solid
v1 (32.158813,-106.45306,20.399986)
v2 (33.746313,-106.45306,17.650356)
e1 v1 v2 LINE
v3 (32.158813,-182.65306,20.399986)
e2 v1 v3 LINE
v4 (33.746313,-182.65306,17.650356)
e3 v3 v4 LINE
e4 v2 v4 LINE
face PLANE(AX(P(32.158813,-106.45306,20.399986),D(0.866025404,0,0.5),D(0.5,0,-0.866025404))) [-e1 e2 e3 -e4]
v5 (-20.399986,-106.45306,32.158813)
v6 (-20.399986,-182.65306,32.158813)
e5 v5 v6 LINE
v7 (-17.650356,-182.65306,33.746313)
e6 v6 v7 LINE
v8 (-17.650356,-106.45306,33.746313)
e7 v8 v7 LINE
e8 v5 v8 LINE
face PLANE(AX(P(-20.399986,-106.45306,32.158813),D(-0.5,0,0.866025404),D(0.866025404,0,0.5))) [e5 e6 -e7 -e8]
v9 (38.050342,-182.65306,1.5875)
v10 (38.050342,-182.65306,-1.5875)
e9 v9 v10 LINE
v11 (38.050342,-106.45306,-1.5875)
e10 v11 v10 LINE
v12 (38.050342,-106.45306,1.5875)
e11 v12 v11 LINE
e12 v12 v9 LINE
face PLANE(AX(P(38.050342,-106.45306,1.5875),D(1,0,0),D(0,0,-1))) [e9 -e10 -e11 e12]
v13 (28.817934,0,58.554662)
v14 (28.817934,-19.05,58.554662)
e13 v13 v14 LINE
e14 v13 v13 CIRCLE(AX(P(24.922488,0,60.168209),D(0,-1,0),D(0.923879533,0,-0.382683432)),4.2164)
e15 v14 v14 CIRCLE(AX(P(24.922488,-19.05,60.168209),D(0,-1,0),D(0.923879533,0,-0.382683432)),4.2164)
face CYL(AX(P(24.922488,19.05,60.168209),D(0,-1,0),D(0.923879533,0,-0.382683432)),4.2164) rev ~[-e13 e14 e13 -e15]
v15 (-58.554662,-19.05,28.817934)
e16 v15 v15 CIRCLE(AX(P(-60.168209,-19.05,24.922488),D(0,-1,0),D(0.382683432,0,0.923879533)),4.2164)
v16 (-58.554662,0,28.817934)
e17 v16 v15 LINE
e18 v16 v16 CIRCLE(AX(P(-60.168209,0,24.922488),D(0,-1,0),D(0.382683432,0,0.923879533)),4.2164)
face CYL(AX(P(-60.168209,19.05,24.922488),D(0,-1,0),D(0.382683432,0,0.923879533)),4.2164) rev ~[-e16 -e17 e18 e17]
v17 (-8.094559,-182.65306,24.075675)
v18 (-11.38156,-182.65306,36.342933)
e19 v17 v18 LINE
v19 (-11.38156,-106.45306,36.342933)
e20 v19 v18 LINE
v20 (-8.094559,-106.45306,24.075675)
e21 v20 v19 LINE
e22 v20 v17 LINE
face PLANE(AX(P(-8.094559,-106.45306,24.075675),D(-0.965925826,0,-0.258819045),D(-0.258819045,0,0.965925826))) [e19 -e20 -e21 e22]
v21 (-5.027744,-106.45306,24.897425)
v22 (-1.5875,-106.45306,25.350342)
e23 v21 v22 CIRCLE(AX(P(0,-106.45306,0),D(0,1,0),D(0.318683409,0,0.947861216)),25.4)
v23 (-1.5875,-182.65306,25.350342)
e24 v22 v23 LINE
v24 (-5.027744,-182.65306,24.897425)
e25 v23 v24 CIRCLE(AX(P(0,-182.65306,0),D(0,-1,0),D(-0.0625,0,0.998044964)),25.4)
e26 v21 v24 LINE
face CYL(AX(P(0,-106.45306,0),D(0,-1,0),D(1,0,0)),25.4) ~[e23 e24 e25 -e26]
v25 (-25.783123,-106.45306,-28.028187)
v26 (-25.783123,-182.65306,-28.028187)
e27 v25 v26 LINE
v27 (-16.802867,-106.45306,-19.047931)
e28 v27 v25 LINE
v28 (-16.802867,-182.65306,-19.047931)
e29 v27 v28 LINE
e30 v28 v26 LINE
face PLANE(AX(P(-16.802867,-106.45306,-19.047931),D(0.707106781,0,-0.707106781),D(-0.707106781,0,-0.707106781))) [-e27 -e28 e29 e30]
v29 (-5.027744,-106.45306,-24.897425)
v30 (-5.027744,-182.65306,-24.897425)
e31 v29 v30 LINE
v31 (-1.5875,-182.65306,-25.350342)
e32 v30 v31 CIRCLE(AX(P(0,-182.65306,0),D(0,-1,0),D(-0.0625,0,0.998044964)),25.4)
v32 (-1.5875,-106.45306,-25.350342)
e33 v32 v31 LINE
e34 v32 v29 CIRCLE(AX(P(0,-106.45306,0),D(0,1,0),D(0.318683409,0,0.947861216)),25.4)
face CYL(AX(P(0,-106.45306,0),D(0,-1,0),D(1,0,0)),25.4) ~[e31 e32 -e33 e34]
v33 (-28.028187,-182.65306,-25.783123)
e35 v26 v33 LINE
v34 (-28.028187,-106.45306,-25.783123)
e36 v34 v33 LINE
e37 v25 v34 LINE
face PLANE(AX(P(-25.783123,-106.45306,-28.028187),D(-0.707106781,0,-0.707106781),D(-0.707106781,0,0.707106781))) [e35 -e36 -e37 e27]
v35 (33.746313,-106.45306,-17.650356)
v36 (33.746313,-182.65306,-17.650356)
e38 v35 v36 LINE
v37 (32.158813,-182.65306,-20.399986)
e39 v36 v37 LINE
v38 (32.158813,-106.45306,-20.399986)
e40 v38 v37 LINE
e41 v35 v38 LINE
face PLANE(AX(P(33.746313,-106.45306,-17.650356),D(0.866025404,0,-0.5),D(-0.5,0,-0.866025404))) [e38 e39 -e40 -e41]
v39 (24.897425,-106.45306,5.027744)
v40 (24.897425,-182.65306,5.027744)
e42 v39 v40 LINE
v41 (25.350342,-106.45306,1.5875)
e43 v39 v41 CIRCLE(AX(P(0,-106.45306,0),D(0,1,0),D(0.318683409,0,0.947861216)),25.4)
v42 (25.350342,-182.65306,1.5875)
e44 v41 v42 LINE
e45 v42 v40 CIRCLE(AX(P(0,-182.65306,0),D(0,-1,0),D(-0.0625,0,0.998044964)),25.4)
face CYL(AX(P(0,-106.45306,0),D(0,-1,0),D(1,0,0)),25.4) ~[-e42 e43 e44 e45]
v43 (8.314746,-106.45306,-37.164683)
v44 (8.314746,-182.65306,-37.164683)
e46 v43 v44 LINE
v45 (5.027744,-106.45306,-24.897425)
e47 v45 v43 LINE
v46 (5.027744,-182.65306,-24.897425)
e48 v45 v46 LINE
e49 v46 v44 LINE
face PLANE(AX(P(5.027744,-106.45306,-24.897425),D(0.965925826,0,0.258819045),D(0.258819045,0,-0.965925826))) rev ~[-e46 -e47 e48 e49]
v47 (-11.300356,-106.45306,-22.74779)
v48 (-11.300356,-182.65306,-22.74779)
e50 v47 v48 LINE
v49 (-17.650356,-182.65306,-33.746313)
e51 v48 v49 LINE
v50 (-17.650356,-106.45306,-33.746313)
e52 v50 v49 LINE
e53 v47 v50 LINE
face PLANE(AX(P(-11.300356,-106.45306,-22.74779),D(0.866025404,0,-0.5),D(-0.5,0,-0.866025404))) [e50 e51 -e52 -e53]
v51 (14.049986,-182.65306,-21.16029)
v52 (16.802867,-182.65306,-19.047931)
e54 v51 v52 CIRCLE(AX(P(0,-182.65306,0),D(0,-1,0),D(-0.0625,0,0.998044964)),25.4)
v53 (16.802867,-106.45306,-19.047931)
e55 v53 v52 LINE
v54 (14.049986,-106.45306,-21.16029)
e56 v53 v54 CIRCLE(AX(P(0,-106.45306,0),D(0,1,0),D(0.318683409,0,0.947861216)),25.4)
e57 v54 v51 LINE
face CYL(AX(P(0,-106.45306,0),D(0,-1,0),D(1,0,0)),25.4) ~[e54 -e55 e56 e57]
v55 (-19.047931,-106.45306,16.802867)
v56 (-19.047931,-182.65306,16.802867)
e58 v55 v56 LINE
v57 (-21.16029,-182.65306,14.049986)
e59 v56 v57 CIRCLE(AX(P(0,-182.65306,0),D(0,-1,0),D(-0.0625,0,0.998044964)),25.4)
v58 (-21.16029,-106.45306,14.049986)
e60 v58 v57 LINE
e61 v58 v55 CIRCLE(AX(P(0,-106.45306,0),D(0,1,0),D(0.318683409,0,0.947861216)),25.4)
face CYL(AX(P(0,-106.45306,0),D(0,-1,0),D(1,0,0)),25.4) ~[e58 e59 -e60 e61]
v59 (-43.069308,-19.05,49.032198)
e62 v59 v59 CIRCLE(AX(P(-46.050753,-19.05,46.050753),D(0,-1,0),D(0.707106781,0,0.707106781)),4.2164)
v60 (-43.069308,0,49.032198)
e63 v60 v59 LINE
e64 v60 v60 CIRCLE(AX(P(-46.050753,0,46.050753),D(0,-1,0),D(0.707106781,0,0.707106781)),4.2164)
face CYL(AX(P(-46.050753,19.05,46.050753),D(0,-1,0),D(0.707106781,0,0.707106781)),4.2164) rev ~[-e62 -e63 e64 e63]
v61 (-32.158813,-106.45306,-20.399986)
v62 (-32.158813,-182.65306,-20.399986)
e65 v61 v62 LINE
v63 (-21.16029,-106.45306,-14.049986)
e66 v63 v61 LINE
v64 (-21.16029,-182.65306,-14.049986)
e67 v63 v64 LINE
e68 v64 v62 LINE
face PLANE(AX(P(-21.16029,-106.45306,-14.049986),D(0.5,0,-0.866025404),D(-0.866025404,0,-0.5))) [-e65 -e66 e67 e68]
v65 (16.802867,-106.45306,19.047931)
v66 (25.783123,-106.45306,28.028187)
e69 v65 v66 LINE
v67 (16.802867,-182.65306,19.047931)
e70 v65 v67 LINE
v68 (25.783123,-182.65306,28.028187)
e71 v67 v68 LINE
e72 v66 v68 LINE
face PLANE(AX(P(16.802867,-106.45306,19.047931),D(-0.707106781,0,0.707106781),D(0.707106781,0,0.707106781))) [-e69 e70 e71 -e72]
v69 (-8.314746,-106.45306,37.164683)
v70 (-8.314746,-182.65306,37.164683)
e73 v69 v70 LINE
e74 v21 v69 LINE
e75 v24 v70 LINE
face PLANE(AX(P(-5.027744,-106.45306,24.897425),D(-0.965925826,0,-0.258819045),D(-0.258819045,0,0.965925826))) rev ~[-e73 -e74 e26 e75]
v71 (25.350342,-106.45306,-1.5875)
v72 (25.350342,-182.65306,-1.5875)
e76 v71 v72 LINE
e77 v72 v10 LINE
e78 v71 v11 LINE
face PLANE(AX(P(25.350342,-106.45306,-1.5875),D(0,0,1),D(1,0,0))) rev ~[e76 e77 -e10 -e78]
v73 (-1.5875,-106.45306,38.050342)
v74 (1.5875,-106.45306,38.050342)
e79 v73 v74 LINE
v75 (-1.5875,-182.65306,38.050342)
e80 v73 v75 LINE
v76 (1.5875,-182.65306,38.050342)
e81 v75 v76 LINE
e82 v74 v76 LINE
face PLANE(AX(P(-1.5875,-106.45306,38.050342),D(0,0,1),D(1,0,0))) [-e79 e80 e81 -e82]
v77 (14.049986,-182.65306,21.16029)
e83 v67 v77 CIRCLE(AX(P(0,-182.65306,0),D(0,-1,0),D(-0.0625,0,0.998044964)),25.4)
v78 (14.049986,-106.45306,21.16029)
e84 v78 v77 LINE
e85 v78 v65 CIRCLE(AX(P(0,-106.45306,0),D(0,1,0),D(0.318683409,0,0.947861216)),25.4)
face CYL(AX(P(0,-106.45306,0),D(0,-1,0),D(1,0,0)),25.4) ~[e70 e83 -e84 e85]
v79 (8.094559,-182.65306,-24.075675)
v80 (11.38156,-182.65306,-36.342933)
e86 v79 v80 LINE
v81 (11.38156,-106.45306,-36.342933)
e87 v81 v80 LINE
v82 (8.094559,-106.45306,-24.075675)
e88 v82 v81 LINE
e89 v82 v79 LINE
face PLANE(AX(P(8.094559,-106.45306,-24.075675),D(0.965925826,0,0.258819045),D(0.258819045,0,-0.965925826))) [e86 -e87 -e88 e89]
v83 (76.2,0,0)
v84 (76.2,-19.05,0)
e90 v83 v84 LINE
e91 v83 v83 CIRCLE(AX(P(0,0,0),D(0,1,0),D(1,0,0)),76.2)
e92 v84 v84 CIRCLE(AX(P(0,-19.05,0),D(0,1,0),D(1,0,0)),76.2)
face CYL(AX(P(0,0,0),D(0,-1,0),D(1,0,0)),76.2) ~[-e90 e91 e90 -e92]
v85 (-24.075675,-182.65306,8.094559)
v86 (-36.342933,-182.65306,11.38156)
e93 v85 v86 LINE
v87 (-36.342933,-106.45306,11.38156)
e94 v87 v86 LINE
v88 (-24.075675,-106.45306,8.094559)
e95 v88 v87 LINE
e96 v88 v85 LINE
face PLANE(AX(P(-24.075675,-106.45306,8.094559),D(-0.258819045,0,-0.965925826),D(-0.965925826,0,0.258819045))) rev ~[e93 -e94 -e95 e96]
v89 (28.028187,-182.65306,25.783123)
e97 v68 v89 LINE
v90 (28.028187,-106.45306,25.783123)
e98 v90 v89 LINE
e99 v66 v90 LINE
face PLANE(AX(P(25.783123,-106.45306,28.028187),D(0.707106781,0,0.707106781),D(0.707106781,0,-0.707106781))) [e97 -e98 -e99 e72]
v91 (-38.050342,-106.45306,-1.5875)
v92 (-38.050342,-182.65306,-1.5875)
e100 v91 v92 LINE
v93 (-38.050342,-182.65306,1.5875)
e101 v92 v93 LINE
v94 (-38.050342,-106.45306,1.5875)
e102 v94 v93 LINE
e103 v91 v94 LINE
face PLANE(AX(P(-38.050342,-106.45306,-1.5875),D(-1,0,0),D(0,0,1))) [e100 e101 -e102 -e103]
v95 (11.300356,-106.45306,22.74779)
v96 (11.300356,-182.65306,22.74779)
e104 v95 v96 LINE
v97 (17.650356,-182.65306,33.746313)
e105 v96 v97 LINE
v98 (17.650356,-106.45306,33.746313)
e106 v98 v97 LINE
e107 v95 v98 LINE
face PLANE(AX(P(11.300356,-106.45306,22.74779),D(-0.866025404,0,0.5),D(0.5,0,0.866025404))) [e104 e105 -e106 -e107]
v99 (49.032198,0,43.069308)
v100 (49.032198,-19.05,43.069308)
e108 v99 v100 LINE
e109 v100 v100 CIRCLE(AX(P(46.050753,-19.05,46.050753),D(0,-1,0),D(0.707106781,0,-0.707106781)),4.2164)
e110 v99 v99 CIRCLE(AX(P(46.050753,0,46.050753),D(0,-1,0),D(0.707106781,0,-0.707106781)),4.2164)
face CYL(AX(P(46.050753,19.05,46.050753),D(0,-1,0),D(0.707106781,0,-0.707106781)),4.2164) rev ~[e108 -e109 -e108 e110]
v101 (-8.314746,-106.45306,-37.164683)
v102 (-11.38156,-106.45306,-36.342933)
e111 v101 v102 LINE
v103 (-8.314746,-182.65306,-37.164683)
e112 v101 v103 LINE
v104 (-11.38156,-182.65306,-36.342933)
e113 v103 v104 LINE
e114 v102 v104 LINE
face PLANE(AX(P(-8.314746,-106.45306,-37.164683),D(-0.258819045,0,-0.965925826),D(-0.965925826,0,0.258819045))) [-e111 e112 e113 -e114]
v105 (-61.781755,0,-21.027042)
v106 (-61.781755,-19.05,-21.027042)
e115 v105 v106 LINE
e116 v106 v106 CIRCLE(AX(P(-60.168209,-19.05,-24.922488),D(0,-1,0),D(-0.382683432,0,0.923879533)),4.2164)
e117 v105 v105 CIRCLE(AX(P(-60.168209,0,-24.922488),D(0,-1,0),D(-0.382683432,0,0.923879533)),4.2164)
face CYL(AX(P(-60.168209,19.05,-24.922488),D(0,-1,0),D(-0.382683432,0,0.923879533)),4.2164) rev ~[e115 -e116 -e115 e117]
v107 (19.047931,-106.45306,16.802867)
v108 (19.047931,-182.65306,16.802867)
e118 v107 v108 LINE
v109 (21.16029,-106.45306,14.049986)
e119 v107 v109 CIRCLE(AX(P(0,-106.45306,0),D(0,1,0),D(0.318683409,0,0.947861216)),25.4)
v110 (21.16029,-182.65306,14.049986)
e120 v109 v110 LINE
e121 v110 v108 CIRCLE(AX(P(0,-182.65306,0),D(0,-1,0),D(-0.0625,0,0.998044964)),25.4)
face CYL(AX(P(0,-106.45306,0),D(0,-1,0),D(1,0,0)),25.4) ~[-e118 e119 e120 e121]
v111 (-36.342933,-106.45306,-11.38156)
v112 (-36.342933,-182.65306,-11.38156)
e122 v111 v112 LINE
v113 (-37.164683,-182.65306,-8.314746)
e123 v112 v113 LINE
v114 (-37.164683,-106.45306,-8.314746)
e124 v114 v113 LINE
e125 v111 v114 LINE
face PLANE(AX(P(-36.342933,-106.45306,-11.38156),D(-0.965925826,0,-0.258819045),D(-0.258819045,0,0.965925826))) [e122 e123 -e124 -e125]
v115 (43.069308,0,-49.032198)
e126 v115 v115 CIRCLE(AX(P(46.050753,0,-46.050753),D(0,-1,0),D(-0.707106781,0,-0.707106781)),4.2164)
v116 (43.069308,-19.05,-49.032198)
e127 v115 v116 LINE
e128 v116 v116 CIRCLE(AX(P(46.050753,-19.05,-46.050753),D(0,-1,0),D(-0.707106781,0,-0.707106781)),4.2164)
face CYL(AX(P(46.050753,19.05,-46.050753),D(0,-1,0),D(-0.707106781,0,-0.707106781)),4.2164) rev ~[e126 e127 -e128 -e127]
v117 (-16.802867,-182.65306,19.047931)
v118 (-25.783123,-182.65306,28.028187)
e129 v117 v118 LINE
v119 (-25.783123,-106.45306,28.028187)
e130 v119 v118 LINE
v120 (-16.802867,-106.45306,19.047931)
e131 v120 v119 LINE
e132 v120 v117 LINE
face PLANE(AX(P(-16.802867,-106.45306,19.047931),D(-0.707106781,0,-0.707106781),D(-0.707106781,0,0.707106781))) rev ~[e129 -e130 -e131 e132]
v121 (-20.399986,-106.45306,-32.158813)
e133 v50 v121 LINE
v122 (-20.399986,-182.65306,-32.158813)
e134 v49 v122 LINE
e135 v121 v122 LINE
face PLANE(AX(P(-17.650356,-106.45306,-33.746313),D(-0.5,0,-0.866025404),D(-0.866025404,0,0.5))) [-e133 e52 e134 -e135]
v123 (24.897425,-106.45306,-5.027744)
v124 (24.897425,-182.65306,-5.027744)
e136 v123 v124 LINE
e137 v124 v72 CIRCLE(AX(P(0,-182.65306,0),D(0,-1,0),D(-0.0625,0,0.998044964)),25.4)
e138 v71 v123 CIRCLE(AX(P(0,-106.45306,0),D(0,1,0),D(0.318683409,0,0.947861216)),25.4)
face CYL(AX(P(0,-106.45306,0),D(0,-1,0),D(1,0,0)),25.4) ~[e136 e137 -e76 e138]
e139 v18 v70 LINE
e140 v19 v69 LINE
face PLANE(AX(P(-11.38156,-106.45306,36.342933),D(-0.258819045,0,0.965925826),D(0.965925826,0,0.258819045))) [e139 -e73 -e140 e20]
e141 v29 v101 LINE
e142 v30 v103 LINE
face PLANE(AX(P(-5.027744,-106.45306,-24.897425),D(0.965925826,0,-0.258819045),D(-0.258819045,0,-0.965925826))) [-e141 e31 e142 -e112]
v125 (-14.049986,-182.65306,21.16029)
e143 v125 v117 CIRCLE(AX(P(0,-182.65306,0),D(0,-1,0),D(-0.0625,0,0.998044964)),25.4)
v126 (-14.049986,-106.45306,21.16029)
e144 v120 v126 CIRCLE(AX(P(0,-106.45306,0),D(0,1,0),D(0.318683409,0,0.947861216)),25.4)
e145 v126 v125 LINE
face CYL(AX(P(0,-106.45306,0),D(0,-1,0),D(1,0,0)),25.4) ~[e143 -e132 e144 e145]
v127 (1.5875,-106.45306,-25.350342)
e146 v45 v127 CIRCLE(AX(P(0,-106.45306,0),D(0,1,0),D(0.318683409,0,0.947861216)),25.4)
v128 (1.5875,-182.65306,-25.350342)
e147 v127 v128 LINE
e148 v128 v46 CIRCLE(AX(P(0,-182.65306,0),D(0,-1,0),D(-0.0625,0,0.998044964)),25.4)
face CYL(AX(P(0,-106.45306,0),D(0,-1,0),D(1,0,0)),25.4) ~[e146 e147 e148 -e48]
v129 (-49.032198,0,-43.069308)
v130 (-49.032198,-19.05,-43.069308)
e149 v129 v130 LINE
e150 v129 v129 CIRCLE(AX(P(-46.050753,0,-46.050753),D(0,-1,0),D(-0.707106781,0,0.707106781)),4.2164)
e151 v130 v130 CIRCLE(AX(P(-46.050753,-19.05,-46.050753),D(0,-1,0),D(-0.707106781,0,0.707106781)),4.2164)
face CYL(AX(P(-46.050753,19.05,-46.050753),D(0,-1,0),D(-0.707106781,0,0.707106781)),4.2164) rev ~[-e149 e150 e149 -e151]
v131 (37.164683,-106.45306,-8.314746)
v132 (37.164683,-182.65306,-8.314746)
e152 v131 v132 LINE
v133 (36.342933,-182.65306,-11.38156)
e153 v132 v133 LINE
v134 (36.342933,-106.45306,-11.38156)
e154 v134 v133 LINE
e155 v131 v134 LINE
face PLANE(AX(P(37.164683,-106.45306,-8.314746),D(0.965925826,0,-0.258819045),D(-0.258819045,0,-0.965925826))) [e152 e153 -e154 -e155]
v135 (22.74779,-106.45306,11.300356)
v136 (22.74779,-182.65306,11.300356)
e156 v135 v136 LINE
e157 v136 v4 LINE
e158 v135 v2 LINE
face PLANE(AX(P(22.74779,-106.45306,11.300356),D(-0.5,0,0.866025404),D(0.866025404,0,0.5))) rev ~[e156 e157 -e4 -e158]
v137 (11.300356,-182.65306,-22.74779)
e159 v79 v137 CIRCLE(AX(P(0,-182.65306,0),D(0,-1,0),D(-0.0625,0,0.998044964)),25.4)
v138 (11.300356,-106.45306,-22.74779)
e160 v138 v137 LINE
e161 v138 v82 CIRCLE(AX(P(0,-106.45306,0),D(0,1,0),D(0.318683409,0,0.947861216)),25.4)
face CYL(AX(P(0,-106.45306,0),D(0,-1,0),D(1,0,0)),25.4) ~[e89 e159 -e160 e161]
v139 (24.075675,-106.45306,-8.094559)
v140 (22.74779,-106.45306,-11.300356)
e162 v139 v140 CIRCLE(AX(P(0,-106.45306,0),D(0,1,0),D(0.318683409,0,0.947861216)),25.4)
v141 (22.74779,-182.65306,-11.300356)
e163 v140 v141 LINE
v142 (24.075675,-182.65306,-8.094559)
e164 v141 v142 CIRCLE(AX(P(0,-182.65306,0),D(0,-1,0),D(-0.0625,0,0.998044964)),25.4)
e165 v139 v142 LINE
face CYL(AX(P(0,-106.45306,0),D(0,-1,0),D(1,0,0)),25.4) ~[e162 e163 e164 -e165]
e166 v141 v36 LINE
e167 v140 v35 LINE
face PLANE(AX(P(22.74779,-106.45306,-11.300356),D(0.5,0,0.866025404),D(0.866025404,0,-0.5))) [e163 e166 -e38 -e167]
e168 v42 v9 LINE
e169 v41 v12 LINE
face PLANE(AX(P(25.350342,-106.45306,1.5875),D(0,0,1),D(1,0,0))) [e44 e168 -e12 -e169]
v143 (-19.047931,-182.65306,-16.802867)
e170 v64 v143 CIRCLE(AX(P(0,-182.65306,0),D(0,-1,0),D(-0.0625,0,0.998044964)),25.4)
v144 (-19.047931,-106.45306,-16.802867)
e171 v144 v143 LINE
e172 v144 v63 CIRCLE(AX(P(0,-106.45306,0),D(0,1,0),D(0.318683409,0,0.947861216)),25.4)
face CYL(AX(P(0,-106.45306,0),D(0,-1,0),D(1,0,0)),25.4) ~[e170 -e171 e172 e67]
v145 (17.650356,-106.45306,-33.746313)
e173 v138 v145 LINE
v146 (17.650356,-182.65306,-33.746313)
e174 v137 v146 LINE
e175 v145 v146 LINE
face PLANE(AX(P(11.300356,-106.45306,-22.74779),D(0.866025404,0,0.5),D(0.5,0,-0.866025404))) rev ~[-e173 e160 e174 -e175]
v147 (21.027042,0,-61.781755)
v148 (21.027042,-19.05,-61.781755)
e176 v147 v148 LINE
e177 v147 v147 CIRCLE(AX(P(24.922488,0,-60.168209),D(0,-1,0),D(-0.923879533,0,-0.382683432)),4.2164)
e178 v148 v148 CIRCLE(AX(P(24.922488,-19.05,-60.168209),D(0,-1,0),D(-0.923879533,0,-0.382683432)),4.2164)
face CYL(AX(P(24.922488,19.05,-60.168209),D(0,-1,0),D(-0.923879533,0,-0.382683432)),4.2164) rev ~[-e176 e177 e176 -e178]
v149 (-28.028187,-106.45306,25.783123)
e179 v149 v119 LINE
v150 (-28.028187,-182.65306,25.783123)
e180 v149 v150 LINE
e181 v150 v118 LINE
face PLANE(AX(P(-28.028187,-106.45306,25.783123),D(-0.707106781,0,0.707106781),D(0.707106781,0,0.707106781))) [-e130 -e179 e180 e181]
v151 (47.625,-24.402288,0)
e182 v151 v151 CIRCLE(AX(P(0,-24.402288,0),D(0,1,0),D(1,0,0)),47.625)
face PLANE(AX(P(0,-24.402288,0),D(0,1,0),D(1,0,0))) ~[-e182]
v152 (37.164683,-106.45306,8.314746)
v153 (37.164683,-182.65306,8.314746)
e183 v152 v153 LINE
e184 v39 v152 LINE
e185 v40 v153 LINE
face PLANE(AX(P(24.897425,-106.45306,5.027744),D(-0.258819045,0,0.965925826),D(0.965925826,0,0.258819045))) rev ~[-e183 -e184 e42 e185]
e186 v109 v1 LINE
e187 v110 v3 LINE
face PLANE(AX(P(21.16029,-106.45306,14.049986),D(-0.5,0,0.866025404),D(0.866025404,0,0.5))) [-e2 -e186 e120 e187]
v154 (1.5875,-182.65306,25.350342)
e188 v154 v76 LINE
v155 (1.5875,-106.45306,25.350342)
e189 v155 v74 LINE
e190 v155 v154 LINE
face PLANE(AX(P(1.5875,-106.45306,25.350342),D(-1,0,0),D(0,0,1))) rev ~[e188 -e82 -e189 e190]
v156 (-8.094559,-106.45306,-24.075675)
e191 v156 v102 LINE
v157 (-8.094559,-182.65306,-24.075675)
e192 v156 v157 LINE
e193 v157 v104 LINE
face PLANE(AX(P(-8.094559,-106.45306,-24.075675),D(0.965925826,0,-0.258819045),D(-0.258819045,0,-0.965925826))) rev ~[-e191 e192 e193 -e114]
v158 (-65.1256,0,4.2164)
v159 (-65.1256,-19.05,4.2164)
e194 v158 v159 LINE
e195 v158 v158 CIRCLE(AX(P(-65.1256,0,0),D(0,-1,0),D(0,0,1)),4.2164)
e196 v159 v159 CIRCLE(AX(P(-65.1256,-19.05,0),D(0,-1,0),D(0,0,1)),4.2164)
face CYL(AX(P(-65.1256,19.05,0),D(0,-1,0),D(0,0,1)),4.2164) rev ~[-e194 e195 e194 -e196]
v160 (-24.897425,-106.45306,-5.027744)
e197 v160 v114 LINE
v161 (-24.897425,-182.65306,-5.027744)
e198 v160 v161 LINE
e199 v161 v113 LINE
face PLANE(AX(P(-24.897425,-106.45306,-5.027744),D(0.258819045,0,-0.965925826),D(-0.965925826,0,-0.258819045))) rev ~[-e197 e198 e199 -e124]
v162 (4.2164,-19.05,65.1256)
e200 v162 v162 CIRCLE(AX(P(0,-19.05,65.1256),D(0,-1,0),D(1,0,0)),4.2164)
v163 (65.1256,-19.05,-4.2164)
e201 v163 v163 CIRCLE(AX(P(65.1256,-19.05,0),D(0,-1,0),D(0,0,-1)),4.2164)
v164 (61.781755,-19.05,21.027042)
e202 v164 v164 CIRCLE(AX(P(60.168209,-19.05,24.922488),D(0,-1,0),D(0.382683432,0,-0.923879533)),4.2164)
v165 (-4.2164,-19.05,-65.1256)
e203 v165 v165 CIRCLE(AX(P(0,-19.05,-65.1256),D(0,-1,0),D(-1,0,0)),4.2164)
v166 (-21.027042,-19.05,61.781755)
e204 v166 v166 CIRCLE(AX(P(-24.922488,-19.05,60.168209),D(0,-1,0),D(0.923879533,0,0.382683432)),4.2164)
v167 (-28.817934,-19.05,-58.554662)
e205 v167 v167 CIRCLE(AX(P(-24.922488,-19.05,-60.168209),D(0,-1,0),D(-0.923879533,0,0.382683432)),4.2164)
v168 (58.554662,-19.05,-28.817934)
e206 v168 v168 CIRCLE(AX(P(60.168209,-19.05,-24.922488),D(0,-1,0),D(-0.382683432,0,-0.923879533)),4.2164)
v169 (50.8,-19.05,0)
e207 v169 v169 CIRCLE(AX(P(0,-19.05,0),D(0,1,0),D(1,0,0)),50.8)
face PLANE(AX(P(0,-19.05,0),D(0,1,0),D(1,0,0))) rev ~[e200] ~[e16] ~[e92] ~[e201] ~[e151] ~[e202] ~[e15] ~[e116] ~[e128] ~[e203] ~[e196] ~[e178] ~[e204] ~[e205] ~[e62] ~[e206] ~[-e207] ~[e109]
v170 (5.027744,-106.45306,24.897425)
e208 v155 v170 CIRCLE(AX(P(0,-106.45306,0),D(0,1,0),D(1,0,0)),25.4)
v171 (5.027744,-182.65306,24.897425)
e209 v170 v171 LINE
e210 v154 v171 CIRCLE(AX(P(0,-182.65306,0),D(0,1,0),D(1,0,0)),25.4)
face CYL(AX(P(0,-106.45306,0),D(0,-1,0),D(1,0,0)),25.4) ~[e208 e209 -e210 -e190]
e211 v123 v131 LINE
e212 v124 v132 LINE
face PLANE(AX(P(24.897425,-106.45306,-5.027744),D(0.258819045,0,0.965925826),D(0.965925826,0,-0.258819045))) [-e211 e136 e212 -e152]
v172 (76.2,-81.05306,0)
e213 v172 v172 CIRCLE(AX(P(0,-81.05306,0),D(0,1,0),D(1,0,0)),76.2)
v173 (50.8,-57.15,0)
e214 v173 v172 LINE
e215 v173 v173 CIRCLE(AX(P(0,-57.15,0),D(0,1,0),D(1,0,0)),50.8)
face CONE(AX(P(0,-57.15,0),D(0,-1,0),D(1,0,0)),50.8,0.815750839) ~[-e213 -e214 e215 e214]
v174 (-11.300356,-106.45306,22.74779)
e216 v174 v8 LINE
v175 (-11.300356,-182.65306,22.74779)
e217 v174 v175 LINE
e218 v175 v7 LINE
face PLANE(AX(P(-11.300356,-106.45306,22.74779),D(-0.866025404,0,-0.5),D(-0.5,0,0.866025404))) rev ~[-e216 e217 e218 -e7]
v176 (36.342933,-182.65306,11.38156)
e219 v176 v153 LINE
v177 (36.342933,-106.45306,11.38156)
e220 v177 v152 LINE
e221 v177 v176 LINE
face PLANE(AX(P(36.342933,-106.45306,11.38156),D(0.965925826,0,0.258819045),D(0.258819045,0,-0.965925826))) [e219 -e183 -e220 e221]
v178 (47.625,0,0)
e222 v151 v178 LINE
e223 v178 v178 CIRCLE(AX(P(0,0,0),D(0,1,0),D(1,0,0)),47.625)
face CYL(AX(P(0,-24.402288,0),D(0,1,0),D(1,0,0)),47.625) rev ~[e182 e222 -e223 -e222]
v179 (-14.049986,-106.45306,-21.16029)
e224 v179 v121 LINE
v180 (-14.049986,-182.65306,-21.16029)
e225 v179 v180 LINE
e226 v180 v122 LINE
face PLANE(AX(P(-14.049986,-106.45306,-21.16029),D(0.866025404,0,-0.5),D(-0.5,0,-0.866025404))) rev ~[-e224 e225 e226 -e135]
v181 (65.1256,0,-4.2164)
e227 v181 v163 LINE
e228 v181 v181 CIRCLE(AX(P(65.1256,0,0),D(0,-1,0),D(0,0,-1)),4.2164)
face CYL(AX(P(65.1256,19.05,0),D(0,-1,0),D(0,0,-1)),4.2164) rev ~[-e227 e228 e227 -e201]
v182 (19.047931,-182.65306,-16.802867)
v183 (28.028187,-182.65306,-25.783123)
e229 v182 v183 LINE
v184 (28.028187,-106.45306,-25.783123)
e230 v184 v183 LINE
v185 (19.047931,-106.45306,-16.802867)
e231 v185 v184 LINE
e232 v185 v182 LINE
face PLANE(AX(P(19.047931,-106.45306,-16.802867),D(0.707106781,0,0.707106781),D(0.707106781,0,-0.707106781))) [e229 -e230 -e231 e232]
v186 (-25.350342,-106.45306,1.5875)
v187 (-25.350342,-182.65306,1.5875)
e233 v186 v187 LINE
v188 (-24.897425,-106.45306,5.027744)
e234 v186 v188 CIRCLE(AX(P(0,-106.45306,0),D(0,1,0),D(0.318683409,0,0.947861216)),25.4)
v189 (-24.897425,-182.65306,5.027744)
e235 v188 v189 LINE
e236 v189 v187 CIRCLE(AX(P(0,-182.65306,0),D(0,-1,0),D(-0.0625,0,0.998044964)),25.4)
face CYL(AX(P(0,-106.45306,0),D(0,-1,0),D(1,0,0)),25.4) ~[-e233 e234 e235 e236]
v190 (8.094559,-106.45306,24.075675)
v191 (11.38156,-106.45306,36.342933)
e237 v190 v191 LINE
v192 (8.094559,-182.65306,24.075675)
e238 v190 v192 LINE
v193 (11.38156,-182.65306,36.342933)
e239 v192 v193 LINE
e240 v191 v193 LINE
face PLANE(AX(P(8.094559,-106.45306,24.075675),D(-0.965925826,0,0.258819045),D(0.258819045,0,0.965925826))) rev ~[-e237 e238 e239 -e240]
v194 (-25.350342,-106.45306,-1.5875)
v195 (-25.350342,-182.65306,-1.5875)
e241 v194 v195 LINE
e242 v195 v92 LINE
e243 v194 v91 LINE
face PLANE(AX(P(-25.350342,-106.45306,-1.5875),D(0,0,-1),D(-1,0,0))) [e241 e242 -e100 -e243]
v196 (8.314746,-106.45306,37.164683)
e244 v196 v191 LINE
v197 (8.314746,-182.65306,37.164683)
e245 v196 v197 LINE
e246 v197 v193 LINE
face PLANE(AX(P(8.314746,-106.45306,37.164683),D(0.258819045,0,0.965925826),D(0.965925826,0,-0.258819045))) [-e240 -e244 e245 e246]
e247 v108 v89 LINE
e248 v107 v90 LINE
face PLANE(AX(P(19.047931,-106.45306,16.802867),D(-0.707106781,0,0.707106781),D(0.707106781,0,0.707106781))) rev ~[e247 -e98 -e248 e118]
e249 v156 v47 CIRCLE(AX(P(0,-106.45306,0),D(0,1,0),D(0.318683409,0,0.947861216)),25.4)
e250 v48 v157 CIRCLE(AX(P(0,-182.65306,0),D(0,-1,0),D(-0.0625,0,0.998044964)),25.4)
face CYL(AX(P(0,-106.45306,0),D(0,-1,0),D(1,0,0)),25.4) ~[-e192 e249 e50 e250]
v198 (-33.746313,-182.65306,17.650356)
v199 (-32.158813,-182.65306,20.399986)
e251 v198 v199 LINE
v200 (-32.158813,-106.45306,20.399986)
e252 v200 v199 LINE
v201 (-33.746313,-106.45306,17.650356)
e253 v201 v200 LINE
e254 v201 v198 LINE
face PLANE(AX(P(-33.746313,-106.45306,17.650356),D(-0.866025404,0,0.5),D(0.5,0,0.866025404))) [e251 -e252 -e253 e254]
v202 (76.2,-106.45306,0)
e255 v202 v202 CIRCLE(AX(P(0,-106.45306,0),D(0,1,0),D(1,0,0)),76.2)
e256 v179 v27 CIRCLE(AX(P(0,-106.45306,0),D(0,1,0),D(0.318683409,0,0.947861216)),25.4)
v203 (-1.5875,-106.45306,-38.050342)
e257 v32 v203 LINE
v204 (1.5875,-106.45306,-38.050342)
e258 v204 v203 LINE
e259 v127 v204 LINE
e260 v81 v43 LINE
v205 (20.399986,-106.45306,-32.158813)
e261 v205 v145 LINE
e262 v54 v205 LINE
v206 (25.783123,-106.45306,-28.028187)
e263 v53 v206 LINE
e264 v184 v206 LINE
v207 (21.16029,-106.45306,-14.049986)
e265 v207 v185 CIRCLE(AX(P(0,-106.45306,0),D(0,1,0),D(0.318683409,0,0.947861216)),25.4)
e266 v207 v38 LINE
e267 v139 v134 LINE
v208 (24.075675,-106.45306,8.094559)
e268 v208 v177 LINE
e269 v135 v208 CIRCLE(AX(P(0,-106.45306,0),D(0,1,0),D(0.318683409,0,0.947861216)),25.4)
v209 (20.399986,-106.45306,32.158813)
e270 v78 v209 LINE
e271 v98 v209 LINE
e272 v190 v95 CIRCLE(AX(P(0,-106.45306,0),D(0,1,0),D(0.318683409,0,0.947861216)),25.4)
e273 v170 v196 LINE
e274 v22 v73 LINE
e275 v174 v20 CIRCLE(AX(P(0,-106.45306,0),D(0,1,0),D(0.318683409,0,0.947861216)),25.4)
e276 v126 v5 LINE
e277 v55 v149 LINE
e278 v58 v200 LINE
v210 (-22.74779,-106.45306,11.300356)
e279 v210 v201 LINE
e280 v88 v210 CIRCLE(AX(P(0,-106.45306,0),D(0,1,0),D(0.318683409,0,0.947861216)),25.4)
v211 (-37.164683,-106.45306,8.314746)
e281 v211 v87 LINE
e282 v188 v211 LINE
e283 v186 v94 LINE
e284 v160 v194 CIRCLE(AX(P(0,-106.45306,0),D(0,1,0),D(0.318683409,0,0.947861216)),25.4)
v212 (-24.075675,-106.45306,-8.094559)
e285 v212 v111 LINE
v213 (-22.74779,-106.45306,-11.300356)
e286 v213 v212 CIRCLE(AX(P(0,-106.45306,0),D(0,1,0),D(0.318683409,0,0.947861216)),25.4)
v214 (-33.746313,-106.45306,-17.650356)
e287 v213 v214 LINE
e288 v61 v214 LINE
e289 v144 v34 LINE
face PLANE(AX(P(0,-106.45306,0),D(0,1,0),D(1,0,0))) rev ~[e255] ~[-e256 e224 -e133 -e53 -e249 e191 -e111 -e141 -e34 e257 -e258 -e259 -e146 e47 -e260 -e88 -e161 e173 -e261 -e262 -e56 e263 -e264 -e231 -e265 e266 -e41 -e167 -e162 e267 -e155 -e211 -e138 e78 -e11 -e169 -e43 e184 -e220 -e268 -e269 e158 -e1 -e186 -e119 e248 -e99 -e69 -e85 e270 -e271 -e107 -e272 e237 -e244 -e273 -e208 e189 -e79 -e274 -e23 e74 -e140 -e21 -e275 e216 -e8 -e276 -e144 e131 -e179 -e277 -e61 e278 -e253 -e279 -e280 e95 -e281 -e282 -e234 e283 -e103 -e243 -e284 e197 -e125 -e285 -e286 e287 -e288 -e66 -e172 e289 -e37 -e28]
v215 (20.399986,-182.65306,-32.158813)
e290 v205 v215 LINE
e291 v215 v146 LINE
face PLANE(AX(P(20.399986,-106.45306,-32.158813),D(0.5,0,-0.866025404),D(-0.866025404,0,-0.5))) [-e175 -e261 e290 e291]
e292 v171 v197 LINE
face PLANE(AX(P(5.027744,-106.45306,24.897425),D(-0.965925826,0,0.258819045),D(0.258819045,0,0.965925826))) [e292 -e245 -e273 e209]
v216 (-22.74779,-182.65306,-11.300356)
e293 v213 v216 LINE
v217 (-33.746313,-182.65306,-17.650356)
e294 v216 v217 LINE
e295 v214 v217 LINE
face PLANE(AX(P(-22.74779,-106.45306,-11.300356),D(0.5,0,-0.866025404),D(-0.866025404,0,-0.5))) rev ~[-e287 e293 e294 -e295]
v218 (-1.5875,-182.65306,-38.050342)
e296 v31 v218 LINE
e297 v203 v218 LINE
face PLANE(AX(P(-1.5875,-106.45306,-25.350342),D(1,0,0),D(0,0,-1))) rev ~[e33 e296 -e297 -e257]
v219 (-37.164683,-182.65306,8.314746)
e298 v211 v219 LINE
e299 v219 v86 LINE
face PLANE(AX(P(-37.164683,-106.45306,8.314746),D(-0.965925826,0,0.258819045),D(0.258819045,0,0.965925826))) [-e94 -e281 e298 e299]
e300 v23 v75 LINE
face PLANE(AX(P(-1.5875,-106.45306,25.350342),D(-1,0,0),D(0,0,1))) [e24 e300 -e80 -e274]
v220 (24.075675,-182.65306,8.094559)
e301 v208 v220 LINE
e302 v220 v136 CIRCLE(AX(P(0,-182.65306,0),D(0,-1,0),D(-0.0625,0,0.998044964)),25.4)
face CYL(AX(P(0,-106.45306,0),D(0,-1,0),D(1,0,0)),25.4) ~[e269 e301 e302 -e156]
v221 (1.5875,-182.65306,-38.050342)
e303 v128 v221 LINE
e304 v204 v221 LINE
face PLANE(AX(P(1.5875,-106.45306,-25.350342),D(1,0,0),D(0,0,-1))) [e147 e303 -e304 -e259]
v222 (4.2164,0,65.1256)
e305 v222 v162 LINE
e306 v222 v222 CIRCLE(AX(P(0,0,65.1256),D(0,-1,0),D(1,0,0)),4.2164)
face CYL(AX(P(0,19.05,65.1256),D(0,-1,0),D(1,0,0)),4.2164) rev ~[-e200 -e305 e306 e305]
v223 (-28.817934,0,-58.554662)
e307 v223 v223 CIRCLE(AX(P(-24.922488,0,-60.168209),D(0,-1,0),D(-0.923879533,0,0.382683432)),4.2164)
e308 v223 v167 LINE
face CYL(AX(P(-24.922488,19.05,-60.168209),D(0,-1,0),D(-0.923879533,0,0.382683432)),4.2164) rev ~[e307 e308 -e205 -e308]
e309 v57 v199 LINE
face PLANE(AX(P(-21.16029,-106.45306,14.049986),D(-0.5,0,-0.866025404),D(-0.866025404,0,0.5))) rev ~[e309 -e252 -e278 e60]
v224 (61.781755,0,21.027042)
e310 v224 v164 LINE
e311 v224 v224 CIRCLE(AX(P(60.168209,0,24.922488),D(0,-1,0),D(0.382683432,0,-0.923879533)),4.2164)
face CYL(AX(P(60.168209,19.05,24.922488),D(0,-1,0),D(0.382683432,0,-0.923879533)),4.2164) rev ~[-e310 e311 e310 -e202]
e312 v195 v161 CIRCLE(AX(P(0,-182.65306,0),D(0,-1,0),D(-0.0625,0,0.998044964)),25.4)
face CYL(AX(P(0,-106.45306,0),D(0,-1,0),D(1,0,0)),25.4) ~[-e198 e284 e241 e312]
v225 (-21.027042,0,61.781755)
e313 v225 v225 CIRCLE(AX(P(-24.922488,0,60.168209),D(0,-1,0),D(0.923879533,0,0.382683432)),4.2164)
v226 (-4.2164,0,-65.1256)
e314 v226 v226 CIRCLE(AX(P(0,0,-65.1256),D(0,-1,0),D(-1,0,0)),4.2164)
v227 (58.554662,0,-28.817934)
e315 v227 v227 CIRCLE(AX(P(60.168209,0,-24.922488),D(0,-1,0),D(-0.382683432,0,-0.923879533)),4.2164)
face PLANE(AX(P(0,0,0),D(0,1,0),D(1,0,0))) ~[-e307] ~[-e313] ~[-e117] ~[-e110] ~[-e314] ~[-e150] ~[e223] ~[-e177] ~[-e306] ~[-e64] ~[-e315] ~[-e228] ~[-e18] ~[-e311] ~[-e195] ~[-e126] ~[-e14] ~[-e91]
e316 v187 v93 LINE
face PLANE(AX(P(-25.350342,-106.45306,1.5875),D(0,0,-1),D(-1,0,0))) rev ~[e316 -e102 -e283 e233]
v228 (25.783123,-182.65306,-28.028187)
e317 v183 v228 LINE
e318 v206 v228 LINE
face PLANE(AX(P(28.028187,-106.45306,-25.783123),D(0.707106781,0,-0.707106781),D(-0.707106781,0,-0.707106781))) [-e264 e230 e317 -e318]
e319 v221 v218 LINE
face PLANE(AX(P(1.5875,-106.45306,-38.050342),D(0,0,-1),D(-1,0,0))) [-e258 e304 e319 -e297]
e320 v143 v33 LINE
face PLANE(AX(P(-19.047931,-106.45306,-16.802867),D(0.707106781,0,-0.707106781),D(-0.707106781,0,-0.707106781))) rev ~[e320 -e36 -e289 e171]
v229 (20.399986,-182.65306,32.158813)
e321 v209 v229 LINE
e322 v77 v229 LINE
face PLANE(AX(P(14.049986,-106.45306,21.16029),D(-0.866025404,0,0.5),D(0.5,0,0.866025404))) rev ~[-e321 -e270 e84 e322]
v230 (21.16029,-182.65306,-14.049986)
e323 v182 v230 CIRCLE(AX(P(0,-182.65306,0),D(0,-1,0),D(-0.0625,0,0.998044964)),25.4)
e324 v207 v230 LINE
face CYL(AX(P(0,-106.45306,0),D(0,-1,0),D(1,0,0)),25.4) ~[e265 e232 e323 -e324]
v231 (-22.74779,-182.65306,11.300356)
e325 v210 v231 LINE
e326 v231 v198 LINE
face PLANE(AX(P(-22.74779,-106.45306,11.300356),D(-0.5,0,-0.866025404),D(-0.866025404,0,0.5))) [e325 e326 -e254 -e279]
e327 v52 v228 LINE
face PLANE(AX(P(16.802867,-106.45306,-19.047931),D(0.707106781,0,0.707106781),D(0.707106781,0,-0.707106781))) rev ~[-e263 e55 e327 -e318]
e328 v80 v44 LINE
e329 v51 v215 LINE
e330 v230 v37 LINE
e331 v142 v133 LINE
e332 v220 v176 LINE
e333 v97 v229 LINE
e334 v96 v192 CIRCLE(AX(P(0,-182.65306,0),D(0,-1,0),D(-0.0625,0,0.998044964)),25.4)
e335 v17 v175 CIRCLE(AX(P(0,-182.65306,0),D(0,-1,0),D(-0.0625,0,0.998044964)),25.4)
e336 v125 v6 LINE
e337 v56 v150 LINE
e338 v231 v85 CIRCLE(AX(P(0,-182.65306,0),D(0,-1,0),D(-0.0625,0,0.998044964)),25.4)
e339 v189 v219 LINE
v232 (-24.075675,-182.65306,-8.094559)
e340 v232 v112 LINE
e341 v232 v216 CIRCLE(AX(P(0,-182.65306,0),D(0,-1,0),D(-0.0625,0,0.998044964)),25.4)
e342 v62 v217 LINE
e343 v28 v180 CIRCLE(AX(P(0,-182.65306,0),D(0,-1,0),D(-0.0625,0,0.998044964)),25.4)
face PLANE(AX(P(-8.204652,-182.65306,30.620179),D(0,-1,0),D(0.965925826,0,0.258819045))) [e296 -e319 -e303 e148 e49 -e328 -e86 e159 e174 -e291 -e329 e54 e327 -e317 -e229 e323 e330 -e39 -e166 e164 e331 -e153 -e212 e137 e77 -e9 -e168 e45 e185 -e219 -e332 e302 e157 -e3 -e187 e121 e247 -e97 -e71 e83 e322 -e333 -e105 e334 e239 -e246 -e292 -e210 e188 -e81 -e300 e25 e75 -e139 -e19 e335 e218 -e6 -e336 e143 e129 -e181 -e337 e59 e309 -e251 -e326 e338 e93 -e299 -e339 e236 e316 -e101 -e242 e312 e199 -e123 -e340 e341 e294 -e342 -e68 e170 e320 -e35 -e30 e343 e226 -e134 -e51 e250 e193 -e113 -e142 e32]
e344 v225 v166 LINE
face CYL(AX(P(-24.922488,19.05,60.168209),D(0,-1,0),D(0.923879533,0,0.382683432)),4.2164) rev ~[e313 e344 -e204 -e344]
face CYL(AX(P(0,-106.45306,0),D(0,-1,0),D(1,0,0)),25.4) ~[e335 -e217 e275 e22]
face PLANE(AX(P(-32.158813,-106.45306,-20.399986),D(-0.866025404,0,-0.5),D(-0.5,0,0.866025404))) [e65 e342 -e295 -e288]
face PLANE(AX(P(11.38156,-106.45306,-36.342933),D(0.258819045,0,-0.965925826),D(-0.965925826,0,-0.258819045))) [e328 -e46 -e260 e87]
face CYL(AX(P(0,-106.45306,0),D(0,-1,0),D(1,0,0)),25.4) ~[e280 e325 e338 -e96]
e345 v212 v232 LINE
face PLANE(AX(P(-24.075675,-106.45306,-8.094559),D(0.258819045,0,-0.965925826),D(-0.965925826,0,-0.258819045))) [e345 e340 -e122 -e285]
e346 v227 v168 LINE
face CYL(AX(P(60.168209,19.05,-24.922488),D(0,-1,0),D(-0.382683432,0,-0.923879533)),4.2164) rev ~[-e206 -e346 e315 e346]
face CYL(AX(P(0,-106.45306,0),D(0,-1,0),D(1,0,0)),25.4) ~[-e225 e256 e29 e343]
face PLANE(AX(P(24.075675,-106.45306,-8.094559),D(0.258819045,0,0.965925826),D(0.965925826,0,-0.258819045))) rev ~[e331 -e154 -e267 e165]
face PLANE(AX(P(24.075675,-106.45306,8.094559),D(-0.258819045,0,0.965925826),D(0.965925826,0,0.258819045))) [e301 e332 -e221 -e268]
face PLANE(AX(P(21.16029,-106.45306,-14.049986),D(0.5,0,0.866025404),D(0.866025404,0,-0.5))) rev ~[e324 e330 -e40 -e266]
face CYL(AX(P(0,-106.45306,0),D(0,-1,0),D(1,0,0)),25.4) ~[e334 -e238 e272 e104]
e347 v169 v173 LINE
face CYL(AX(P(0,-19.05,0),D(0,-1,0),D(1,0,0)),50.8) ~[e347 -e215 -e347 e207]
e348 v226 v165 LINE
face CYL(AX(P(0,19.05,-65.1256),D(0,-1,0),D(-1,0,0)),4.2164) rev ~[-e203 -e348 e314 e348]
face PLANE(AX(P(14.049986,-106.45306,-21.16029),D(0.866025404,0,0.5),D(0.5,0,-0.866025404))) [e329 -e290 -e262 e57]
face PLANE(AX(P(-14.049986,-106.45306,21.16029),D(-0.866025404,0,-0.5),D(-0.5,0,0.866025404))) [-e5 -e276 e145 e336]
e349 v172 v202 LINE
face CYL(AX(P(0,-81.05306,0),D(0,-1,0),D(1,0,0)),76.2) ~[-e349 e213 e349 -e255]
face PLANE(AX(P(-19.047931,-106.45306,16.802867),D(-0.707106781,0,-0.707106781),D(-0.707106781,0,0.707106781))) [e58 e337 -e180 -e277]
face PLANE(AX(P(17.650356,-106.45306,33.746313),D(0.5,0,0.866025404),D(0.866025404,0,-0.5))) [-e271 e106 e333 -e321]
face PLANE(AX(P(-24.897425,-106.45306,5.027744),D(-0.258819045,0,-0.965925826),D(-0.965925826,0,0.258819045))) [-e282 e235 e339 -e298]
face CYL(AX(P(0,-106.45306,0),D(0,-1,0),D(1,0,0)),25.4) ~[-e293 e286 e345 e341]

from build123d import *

# Parameters (mm, degrees)
SKETCH2_W                    = 3.175
SKETCH2_H                    = 12.7
BOSS_EXTRUDE1_DEPTH          = 76.2
CIRPATTERN1_COUNT            = 24
F_5_16_CLEARANCE_HOLE1_D     = 8.4328
F_5_16_CLEARANCE_HOLE1_DEPTH = 19.05
CIRPATTERN2_COUNT            = 16


with BuildPart() as part:
    # Sketch1 → Revolve1 (revolve)
    with BuildSketch(Plane.XY):
        Polygon((47.625, 0), (76.2, 0), (76.2, -19.05), (50.8, -19.05), (50.8, -57.15), (76.2, -81.053060455), (76.2, -106.453060455), (25.4, -106.453060455), (25.4, -182.653060455), (0, -182.653060455), (0, -24.40228768), (47.625, -24.40228768), align=None)
    revolve(axis=Axis((0, -1509.759665614, 0), (0, 1, 0)))

    # Sketch2 → Boss-Extrude1 (add)
    with BuildSketch(Plane.XZ.offset(106.453060455)):
        with Locations((0, 31.700342083)):
            Rectangle(SKETCH2_W, SKETCH2_H)
    boss_extrude1 = extrude(amount=BOSS_EXTRUDE1_DEPTH)

    # CirPattern1: Boss-Extrude1 ×24 about axis
    cirpattern1_axis = Axis((0, 0, 0), (0, 1, 0))
    for i in range(1, CIRPATTERN1_COUNT):
        add(boss_extrude1.rotate(cirpattern1_axis, i * 360 / CIRPATTERN1_COUNT))

    # 5/16 Clearance Hole1
    with Locations(Plane(origin=(0, 0, 0), x_dir=(1, 0, 0), z_dir=(0, 1, 0))):
        with Locations((0, 65.1256)):
            f_5_16_clearance_hole1 = Hole(F_5_16_CLEARANCE_HOLE1_D / 2, depth=F_5_16_CLEARANCE_HOLE1_DEPTH)

    # CirPattern2: 5/16 Clearance Hole1 ×16 about axis
    cirpattern2_axis = Axis((0, 0, 0), (0, 1, 0))
    for i in range(1, CIRPATTERN2_COUNT):
        add(f_5_16_clearance_hole1.rotate(cirpattern2_axis, i * 360 / CIRPATTERN2_COUNT), mode=Mode.SUBTRACT)


solid = part.part
